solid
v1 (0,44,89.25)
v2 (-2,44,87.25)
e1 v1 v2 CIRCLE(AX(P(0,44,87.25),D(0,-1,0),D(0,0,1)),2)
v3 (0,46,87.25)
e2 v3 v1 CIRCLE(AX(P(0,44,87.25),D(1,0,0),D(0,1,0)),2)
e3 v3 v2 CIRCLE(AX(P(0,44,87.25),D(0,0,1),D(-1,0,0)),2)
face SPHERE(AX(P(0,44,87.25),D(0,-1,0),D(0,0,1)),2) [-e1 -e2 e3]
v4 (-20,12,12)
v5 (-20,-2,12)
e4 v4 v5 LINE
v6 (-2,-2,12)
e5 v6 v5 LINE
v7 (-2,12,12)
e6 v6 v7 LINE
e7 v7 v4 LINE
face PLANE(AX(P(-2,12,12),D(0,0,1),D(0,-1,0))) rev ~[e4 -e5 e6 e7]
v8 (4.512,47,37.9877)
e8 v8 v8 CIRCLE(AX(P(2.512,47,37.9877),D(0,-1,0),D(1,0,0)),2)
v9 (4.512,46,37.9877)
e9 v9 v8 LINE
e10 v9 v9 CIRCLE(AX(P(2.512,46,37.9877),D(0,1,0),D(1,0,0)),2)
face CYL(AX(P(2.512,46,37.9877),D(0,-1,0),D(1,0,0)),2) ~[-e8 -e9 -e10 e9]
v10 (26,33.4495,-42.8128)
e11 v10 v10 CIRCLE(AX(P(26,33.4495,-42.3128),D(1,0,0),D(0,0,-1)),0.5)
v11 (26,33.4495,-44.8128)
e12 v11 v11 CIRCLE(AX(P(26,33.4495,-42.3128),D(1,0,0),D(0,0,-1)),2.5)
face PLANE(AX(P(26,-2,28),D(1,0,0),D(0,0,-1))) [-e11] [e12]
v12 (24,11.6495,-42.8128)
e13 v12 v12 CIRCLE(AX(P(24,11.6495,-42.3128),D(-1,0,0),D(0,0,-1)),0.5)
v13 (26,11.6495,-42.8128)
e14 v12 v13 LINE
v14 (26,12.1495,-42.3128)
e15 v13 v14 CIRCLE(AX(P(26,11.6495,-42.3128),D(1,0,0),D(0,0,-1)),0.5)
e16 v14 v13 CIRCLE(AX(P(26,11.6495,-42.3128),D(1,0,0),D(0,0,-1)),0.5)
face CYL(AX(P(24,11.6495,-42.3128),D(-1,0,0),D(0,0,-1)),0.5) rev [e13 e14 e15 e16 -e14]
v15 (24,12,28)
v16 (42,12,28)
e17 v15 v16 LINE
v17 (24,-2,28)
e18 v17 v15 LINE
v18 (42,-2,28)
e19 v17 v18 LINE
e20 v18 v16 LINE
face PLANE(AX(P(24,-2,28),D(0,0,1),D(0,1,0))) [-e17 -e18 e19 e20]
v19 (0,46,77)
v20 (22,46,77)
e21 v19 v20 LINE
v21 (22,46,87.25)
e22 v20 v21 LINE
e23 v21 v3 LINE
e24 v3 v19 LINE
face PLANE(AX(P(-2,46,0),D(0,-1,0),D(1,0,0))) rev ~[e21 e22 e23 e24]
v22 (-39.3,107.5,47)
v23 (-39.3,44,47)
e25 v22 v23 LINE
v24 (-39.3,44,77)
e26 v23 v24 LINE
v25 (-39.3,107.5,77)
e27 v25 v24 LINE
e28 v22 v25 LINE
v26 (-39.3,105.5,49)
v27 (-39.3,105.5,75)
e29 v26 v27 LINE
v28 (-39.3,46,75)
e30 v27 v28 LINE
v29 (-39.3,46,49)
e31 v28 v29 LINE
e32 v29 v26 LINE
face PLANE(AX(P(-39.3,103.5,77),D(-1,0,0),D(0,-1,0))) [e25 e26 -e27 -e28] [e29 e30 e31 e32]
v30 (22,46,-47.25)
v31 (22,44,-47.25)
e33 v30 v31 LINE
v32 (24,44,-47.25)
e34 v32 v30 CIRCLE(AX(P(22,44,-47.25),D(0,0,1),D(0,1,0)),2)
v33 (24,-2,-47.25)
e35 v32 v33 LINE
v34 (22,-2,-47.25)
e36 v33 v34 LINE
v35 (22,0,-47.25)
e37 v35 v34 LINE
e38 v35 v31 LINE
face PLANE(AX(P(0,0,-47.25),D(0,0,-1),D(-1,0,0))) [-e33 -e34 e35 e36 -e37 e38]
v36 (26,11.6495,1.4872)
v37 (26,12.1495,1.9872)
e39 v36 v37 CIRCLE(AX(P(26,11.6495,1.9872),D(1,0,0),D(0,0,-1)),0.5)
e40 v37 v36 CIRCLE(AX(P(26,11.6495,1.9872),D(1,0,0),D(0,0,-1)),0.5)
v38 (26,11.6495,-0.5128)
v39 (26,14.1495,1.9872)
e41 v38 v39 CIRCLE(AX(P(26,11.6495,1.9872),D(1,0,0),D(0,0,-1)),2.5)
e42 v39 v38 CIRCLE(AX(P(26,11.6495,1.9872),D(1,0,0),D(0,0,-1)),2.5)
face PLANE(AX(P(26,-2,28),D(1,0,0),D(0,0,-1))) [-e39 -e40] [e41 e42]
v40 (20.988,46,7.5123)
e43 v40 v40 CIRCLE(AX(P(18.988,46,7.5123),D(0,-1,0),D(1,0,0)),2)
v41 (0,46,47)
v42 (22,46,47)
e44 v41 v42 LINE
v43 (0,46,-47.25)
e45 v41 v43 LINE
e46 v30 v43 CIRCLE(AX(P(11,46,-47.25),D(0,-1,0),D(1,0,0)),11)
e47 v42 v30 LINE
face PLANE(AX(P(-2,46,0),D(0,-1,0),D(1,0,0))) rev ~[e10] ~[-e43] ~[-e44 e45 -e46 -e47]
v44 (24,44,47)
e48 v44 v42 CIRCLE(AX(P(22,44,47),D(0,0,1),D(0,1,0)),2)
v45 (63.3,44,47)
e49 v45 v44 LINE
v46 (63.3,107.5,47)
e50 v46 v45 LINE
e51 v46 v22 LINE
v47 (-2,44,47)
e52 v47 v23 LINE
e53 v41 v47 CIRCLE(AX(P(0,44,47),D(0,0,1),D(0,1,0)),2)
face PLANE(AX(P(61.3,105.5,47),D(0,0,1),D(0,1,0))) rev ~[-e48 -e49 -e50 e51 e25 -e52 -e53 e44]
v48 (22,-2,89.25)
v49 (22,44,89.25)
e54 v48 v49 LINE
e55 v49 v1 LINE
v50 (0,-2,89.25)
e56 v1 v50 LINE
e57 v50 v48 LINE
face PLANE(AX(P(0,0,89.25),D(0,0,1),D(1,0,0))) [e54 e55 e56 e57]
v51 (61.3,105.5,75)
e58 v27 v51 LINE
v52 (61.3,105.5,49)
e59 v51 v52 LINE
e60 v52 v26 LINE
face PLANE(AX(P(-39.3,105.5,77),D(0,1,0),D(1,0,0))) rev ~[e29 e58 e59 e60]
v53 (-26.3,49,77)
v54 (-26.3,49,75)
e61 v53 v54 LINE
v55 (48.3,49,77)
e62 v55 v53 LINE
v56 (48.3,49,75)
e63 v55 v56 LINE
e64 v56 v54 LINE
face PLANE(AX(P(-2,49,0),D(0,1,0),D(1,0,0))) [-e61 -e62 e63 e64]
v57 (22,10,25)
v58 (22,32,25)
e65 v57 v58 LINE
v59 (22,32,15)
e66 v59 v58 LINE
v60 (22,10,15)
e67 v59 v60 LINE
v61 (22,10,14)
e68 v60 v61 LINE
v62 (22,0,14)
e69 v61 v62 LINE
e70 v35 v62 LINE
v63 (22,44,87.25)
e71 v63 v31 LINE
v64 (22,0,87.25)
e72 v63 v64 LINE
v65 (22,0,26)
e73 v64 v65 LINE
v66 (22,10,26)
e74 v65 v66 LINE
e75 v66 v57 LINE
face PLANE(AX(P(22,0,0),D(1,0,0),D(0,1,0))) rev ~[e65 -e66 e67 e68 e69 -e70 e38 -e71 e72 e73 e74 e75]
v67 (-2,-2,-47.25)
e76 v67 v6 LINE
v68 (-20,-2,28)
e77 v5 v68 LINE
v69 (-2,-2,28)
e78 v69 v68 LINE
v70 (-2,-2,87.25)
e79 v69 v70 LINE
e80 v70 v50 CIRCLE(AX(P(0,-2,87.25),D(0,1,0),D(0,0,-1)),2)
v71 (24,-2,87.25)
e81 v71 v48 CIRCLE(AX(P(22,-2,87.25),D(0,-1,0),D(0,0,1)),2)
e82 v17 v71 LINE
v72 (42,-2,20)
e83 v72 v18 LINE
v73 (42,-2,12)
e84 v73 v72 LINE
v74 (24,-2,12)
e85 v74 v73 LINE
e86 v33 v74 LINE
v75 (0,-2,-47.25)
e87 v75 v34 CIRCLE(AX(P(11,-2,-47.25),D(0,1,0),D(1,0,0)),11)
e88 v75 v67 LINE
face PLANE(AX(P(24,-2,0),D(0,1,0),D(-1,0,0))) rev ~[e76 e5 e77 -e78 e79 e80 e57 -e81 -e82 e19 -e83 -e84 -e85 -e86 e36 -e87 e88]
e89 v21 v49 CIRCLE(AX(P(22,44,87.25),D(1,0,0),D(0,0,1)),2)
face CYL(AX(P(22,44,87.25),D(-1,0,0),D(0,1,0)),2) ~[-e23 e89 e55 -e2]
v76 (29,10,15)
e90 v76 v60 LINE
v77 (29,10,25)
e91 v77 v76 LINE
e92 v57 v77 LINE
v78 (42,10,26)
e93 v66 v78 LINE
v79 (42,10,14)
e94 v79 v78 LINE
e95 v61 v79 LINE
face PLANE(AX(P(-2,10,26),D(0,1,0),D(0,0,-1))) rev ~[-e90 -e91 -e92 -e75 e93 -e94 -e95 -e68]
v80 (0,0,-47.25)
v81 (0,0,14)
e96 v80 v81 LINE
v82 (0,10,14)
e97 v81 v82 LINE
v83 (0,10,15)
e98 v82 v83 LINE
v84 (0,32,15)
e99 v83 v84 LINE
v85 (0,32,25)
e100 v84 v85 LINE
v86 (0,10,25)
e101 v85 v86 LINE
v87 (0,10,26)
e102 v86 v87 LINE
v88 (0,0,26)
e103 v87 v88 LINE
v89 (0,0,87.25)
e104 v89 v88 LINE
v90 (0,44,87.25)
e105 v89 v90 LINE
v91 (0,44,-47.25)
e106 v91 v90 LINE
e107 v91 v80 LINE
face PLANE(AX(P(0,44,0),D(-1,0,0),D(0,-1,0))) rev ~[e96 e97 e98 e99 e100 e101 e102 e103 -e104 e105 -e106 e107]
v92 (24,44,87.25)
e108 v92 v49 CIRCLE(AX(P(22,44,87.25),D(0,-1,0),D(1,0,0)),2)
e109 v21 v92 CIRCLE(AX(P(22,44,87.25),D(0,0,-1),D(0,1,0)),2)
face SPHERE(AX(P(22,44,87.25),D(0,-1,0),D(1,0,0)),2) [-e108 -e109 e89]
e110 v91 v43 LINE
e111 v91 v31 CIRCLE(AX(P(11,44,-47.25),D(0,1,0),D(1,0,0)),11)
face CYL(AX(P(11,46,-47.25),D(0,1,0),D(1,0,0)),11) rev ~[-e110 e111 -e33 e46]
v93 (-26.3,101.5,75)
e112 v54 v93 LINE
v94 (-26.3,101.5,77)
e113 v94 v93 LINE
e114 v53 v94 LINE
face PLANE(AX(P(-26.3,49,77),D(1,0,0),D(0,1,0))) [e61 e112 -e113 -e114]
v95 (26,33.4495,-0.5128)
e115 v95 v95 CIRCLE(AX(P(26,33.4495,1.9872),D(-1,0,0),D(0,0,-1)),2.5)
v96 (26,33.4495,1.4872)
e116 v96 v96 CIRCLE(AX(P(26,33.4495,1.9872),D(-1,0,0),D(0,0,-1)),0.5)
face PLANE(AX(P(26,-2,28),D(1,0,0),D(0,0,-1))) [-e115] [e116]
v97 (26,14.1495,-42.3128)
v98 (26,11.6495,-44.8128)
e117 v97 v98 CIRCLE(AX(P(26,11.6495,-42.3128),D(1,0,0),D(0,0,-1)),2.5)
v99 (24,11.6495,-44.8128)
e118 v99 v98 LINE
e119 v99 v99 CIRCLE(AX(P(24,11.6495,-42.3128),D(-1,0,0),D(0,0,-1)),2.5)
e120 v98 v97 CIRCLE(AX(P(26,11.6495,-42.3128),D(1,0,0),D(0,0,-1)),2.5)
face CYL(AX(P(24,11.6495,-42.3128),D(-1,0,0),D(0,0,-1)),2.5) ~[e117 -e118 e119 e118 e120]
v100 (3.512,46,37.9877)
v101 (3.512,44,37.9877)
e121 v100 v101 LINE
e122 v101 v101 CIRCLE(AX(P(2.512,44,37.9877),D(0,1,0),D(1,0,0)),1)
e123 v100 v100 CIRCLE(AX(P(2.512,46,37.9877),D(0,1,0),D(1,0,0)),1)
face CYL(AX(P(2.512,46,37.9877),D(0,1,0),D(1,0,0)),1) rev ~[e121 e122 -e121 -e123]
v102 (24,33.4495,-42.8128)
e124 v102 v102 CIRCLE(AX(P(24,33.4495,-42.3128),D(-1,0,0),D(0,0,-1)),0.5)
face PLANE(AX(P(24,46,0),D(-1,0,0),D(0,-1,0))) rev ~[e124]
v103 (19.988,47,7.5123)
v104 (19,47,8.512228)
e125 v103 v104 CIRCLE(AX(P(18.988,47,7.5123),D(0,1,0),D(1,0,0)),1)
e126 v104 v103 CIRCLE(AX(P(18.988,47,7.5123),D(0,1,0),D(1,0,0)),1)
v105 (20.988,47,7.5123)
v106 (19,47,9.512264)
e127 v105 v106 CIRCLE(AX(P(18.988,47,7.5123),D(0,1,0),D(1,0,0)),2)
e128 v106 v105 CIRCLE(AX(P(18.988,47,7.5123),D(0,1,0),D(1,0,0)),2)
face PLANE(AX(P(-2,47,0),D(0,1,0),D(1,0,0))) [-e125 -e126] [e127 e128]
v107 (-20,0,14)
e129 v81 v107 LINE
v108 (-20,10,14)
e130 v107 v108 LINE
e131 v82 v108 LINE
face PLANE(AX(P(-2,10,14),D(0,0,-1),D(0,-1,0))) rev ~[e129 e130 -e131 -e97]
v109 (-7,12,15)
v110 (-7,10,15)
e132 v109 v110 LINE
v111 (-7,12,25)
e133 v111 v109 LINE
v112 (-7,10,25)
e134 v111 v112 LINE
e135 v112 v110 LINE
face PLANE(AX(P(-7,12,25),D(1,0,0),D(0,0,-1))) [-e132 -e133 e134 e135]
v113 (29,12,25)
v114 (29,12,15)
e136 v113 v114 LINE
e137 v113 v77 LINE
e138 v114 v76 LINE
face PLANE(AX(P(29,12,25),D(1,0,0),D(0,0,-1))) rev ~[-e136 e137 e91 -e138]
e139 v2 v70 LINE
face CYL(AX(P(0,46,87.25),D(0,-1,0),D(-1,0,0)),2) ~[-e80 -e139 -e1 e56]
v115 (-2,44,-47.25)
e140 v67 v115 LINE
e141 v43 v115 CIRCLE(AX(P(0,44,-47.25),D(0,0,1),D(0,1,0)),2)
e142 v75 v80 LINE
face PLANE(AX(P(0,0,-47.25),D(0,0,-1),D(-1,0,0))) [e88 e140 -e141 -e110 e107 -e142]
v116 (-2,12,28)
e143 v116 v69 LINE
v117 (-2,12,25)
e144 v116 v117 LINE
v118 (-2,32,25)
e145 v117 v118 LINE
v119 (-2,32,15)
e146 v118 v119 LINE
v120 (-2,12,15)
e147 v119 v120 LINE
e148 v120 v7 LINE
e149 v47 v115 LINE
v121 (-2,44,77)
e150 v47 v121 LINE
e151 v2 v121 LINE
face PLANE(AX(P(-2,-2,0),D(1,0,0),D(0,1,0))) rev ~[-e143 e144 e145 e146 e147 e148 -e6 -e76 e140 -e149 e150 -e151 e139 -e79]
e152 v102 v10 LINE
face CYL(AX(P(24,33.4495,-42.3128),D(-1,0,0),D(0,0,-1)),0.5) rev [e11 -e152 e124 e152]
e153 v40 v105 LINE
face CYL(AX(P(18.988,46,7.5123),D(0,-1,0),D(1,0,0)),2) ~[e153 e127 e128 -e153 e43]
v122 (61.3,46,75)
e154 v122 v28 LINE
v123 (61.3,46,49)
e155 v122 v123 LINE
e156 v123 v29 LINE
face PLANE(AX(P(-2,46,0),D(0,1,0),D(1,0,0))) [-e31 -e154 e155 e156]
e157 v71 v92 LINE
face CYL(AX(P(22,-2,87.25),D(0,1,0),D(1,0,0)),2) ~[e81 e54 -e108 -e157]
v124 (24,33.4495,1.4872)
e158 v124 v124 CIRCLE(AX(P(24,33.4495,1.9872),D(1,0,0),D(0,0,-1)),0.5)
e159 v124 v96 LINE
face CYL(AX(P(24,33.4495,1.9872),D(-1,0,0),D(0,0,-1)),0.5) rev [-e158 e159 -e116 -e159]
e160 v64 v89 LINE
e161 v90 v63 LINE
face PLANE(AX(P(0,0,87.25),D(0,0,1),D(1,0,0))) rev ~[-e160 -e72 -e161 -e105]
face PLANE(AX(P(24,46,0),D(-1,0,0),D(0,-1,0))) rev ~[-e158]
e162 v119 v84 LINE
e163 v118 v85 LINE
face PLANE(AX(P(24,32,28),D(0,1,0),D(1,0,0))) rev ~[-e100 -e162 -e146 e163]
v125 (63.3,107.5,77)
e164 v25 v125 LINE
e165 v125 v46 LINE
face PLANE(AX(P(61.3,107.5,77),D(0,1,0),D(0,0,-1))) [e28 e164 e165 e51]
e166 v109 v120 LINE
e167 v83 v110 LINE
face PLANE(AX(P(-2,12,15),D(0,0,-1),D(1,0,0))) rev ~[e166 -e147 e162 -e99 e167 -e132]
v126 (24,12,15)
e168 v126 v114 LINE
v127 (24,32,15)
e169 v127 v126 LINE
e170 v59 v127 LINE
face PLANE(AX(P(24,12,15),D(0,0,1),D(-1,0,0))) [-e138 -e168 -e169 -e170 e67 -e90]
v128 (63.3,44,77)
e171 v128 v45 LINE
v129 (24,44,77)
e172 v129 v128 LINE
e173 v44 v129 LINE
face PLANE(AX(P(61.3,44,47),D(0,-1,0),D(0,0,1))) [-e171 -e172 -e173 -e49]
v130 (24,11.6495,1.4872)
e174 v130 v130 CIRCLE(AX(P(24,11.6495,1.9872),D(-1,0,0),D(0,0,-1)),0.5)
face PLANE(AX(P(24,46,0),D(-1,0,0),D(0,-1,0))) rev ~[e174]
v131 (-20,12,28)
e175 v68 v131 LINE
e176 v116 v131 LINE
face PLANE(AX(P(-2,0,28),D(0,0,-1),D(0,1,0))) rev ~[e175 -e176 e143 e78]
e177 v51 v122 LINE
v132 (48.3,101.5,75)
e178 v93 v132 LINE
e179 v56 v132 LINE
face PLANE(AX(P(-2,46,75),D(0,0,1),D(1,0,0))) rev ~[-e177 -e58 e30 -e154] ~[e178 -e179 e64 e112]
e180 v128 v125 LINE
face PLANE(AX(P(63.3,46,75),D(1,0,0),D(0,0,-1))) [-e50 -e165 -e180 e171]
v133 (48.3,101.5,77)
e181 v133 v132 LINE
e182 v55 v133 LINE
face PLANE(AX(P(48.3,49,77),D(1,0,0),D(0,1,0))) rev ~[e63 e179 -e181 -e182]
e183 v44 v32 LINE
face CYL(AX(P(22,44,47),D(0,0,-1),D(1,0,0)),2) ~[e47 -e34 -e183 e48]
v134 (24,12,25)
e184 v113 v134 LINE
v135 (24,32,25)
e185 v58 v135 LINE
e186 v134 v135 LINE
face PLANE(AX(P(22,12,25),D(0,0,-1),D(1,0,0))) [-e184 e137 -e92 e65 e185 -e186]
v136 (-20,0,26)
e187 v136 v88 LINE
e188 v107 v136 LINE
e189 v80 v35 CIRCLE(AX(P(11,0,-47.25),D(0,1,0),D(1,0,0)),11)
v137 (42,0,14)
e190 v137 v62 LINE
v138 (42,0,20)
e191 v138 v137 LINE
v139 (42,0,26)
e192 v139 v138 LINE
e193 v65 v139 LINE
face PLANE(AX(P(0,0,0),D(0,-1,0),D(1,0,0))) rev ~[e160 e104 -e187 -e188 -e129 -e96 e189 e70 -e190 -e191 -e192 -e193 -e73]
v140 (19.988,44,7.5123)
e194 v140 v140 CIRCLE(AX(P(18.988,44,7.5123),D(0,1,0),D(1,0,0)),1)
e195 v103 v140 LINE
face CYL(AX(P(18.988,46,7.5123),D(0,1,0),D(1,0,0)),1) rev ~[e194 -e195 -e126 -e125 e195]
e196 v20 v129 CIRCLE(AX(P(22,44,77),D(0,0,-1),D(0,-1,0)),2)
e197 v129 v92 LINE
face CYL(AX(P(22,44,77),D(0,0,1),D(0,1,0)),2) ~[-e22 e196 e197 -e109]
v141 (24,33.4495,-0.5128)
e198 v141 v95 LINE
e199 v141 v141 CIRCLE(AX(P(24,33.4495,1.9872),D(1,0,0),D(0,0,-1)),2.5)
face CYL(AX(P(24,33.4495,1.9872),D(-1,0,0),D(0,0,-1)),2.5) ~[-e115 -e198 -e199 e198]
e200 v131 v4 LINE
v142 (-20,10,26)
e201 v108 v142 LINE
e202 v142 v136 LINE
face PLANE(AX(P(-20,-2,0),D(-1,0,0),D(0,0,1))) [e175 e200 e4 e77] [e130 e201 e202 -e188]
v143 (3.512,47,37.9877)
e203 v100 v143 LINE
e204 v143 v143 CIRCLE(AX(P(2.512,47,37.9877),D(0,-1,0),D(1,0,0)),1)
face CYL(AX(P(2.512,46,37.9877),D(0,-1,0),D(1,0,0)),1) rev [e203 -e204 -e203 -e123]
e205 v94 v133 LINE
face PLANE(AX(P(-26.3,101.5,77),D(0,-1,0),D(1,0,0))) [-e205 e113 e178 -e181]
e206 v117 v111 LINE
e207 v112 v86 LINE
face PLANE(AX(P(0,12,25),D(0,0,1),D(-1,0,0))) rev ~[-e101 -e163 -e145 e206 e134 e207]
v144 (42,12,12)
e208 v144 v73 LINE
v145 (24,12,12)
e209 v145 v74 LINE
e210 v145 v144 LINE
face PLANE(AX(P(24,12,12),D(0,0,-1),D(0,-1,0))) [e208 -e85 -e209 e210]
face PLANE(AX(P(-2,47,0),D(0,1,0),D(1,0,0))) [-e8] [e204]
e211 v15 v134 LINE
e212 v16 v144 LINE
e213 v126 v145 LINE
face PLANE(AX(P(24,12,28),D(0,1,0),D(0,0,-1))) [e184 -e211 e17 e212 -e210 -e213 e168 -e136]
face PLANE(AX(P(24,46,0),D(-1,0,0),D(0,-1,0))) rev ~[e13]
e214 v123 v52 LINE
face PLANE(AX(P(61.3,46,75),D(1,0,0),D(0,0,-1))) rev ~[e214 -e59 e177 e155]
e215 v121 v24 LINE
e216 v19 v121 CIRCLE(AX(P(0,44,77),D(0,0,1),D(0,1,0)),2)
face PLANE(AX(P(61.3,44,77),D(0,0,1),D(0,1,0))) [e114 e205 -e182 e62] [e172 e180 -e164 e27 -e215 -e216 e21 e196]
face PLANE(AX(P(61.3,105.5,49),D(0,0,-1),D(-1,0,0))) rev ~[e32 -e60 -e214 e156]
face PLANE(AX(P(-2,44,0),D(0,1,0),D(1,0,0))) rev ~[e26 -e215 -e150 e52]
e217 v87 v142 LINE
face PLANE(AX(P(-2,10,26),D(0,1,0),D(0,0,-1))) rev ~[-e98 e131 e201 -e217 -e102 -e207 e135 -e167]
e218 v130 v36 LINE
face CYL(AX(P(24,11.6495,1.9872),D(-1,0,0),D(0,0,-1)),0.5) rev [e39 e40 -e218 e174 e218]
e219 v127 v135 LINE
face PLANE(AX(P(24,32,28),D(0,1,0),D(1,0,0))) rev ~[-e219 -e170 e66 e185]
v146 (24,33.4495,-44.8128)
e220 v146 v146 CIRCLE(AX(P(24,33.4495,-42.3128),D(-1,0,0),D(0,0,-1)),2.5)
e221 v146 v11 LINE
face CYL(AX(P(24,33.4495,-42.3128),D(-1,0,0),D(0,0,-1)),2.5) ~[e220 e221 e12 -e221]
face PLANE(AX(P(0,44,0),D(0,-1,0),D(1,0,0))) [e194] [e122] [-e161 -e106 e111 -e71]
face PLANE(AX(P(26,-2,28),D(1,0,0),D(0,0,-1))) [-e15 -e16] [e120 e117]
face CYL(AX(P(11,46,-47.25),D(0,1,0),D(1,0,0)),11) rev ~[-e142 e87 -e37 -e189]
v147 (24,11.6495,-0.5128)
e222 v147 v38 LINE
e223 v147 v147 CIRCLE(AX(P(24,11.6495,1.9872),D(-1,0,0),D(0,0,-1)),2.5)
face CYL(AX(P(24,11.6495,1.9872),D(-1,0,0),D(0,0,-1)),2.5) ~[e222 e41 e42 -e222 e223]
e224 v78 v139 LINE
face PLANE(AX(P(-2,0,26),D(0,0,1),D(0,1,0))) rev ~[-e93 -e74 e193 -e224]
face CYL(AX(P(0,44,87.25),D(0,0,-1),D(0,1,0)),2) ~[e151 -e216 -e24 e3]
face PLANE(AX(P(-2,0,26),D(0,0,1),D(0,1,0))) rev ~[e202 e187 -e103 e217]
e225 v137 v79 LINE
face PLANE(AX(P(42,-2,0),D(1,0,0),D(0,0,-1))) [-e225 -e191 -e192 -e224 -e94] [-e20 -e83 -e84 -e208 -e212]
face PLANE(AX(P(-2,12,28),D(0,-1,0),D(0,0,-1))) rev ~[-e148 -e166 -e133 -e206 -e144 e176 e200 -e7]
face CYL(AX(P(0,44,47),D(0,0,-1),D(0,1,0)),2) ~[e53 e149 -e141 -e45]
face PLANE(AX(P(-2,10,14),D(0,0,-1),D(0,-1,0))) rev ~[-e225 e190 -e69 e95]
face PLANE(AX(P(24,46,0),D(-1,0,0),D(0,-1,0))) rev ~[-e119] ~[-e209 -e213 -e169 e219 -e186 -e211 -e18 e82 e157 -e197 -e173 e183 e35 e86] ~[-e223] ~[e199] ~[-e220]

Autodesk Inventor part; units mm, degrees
ref_plane "YZ Plane" through (0, 0, 0) normal (1, 0, 0) x (0, 1, 0)
ref_plane "XZ Plane" through (0, 0, 0) normal (0, 1, 0) x (-1, 0, 0)
ref_plane "XY Plane" through (0, 0, 0) normal (0, 0, 1) x (1, 0, 0)
sketch "Sketch1" plane through (0, 0, 0) normal (0, 0, 1) x (1, 0, 0)
  line L0 (0, 0) -> (22, 0)
  line L1 (22, 0) -> (22, 45)
  line L2 (22, 45) -> (0, 45)
  line L3 (0, 45) -> (0, 0)
  line L4 (-2, 47) -> (24, 47)
  line L5 (24, 47) -> (24, -2)
  line L6 (24, -2) -> (-2, -2)
  line L7 (-2, -2) -> (-2, 47)
  dimension "d0" = 22
  dimension "d1" = 45
  dimension "d2" = 2
extrude "Extrusion1" add sketch "Sketch1" along normal blind 40
sketch "Sketch2" plane through (24, -2, 0) normal (1, 0, 0) x (0, 0, -1)
  line L0 (0, 0) -> (-40, 0) projected
  line L1 (-20, 0) -> (-20, 2)
  line L2 (-20, 2) -> (-14, 2)
  line L3 (-14, 2) -> (-14, 12)
  line L4 (-14, 12) -> (-26, 12)
  line L5 (-26, 12) -> (-26, 2)
  line L6 (-26, 2) -> (-14, 2)
  line L7 (-28, 14) -> (-12, 14)
  line L8 (-12, 14) -> (-12, 0)
  line L9 (-12, 0) -> (-28, 0)
  line L10 (-28, 0) -> (-28, 14)
  point P0 (0, 2)
  dimension "d5" = 2
  dimension "d6" = 6
  dimension "d7" = 10
  dimension "d8" = 12
  dimension "d9" = 2
extrude "Extrusion2" add sketch "Sketch2" along normal blind 18
sketch "Sketch3" plane through (-2, -2, 0) normal (-1, 0, 0) x (0, 0, 1)
  line L0 (26, 12) -> (26, 2) projected
  line L1 (14, 12) -> (26, 12) projected
  line L2 (14, 2) -> (14, 12) projected
  line L3 (0, 2) -> (40, 2) projected
  line L4 (28, 0) -> (28, 14) projected
  line L5 (28, 14) -> (12, 14) projected
  line L6 (12, 14) -> (12, 0) projected
  line L7 (0, 0) -> (40, 0) projected
extrude "Extrusion3" add sketch "Sketch3" along normal blind 18 contours L1 L2 L3 L6 L5 L4 L0 | L3 L4 L7 L6
sketch "Sketch4" plane through (-2, 0, 26) normal (-1, 0, 0) x (0, 0, 1)
  line L0 (-12, 0) -> (0, 0) projected
  line L1 (0, 0) -> (0, 10) projected
  line L2 (0, 10) -> (-12, 10) projected
  line L3 (-12, 10) -> (-12, 0) projected
  point P0 (-26, 0)
extrude "Extrusion4" cut sketch "Sketch4" against normal blind 40
sketch "Sketch5" plane through (24, 12, 28) normal (0, 1, 0) x (1, 0, 0)
  line L0 (-26, 28) -> (-26, -12) projected
  line L1 (0, 28) -> (0, -12) projected
  line L2 (0, 8) -> (0, 13)
  line L3 (0, 13) -> (0, 3)
  line L4 (0, 13) -> (-2, 13)
  line L5 (-2, 13) -> (-2, 3)
  line L6 (-2, 28) -> (-2, -12) projected
  line L7 (-2, 3) -> (0, 3)
  line L8 (0, 3) -> (5, 3)
  line L9 (5, 3) -> (5, 13)
  line L10 (5, 13) -> (0, 13)
  line L11 (-26, 28) -> (0, 28) projected
  line L12 (-13, 28) -> (-13, 3)
  line L13 (-26, 28) -> (-26, -12)
  line L14 (-26, 8) -> (-26, 13)
  line L15 (-26, 13) -> (-26, 3)
  line L16 (-26, 13) -> (-24, 13)
  line L17 (-24, 13) -> (-24, 3)
  line L18 (-24, 28) -> (-24, -12)
  line L19 (-24, 3) -> (-26, 3)
  line L20 (-26, 3) -> (-31, 3)
  line L21 (-31, 3) -> (-31, 13)
  line L22 (-31, 13) -> (-26, 13)
  dimension "d16" = 5
  dimension "d17" = 10
  dimension "d18" = 2
  dimension "d19" = 5
extrude "Extrusion5" cut sketch "Sketch5" along normal blind 20 contours L16 L17 L19 L0 | L0 L20 L21 L22 | L4 L1 L7 L5 | L10 L9 L8 L1
sketch "Sketch6" plane through (-20, 12, 12) normal (0, 1, 0) x (1, 0, 0)
  line L0 (20, -3) -> (18, -3) projected
  line L1 (18, -13) -> (20, -13) projected
  line L2 (20, -3) -> (20, -13) projected
  line L3 (42, -13) -> (42, -3) projected
  line L4 (44, -3) -> (42, -3) projected
  line L5 (42, -13) -> (44, -13) projected
  line L6 (44, -3) -> (44, 0) projected
  line L7 (44, -3) -> (44, -13)
  line L8 (18, -3) -> (18, -13)
  line L9 (18, -13) -> (13, -13)
  line L10 (13, -13) -> (13, -3)
  line L11 (13, -3) -> (18, -3)
  line L12 (44, -16) -> (44, -13) projected
  line L13 (44, -13) -> (49, -13)
  line L14 (49, -13) -> (49, -3)
  line L15 (49, -3) -> (44, -3)
  line L16 (44, -13) -> (44, -3)
  point P0 (20, 12)
  dimension "d22" = 5
  dimension "d23" = 5
extrude "Extrusion6" cut sketch "Sketch6" against normal blind 5
sketch "Sketch7" plane through (0, 0, 40) normal (0, 0, 1) x (1, 0, 0)
  line L0 (0, 0) -> (0, 45) projected
  line L1 (0, 45) -> (22, 45) projected
  line L2 (22, 45) -> (22, 0) projected
  line L3 (22, 0) -> (0, 0) projected
  line L4 (24, 47) -> (-2, 47) projected
  line L5 (-2, 47) -> (-2, -2) projected
  line L6 (-2, -2) -> (24, -2) projected
  line L7 (24, -2) -> (24, 47) projected
extrude "Extrusion7" add sketch "Sketch7" along normal blind 30
sketch "Sketch8" plane through (0, 0, 0) normal (0, 0, -1) x (-1, 0, 0)
  line L0 (-22, 45) -> (0, 45) projected
  line L1 (-22, 44) -> (0, 44)
  line L2 (-22, 44) -> (-22, 45)
  line L3 (2, 47) -> (-24, 47) projected
  line L4 (0, 0) -> (0, 45) projected
  line L5 (0, 44) -> (0, 45)
  line L6 (0, 45) -> (-22, 45) projected
  line L7 (0, 45) -> (-22, 45)
  dimension "d28" = 1
extrude "Extrusion8" add sketch "Sketch8" against normal blind 70
sketch "Sketch9" plane through (-2, 47, 0) normal (0, 1, 0) x (1, 0, 0)
  line L0 (0, 0) -> (26, 0) projected
  line L1 (0, 0) -> (0, -70) projected
  line L2 (26, -70) -> (0, -70) projected
  line L3 (26, 0) -> (26, -70) projected
  point P0 (2, 0)
extrude "Extrusion9" cut sketch "Sketch9" against normal blind 1
sketch "Sketch10" plane through (0, 0, 70) normal (0, 0, 1) x (1, 0, 0)
  line L0 (24, 46) -> (-2, 46) projected
  line L1 (-2, 46) -> (-2, -2) projected
  line L2 (-2, -2) -> (24, -2) projected
  line L3 (24, -2) -> (24, 46) projected
  line L4 (22, 44) -> (22, 0) projected
  line L5 (22, 0) -> (0, 0) projected
  line L6 (0, 0) -> (0, 44) projected
  line L7 (0, 44) -> (22, 44) projected
extrude "Extrusion10" add sketch "Sketch10" along normal blind 17.25
sketch "Sketch11" plane through (0, 0, 0) normal (0, 0, -1) x (-1, 0, 0)
  line L0 (2, 46) -> (-24, 46) projected
  line L1 (-24, 46) -> (-24, -2) projected
  line L2 (-24, -2) -> (2, -2) projected
  line L3 (2, -2) -> (2, 46) projected
  line L4 (0, 44) -> (0, 0) projected
  line L5 (0, 0) -> (-22, 0) projected
  line L6 (-22, 0) -> (-22, 44) projected
  line L7 (0, 44) -> (-22, 44) projected
extrude "Extrusion11" add sketch "Sketch11" along normal blind 47.25
sketch "Sketch12" plane through (24, -2, 28) normal (1, 0, 0) x (0, 0, -1)
  circle A0 centre (70.3128, 35.4495) radius 0.5
  line L0 (70.3128, 35.4495) -> (70.3128, 13.6495)
  circle A1 centre (70.3128, 13.6495) radius 0.5
  line L1 (70.3128, 35.4495) -> (26.0128, 35.4495)
  line L2 (26.0128, 35.4495) -> (26.0128, 13.6495)
  circle A2 centre (26.0128, 35.4495) radius 0.5
  circle A3 centre (26.0128, 13.6495) radius 0.5
  circle A4 centre (26.0128, 35.4495) radius 2.5
  circle A5 centre (26.0128, 13.6495) radius 2.5
  circle A6 centre (70.3128, 35.4495) radius 2.5
  circle A7 centre (70.3128, 13.6495) radius 2.5
  point P0 (28, 2)
  dimension "d37" = 1
  dimension "d38" = 21.8
  dimension "d39" = 1
  dimension "d40" = 44.3
  dimension "d41" = 1
  dimension "d42" = 1
  dimension "d43" = 2
  dimension "d44" = 2
  dimension "d45" = 2
  dimension "d46" = 2
extrude "Extrusion12" add sketch "Sketch12" along normal blind 2 contours A0 L1 A6 L0 | A0 L0 A6 L1 | A5 | A4 L2 A2 L1 | L1 A2 L2 A4 | A7
sketch "Sketch13" plane through (-2, 46, 0) normal (0, 1, 0) x (1, 0, 0)
  line L0 (0, -87.25) -> (0, 47.25) projected
  line L1 (0, -20) -> (0, 2)
  line L2 (0, 2) -> (0, -42)
  line L3 (0, 2) -> (26, 2)
  line L4 (26, 47.25) -> (26, -87.25) projected
  line L5 (13, 2) -> (-9, 2)
  line L6 (-9, 2) -> (-9, -42)
  line L7 (-9, -42) -> (35, -42)
  line L8 (35, -42) -> (35, 2)
  line L9 (35, 2) -> (-9, 2)
  point P0 (2, 0)
  dimension "d49" = 22
  dimension "d50" = 44
  dimension "d51" = 22
  dimension "d52" = 44
  dimension "d53" = 44
extrude "Extrusion13" add sketch "Sketch13" against normal blind 2
sketch "Sketch14" plane through (-2, 46, 0) normal (0, 1, 0) x (1, 0, 0)
  line L0 (35, 2) -> (35, -42) projected
  line L1 (35, 2) -> (35, -1.5)
  line L2 (35, -1.5) -> (31.5, -1.5)
  circle A0 centre (31.5, -1.5) radius 1
  line L3 (35, -20) -> (25.0938, -20)
  circle A1 centre (31.5, -38.5) radius 1
  line L4 (2, 47.25) -> (24, 47.25) projected
  line L5 (13, 47.25) -> (13, 21.5111)
  circle A2 centre (-5.5, -1.5) radius 1
  circle A3 centre (-5.5, -38.5) radius 1
  circle A4 centre (-5.5, -38.5) radius 2
  circle A5 centre (-5.5, -1.5) radius 2
  circle A6 centre (31.5, -38.5) radius 2
  circle A7 centre (31.5, -1.5) radius 2
  point P0 (2, 0)
  dimension "d56" = 3.5
  dimension "d57" = 3.5
  dimension "d58" = 2
  dimension "d59" = 1
  dimension "d60" = 1
  dimension "d61" = 1
  dimension "d62" = 1
extrude "Extrusion14" add sketch "Sketch14" along normal blind 1
sketch "Sketch15" plane through (-2, 46, 0) normal (0, 1, 0) x (1, 0, 0)
  circle A0 centre (-5.5, -38.5) radius 1 projected
  circle A1 centre (-5.5, -1.5) radius 1 projected
  circle A2 centre (31.5, -1.5) radius 1 projected
  circle A3 centre (31.5, -38.5) radius 1 projected
  point P0 (2, 0)
extrude "Extrusion15" cut sketch "Sketch15" against normal blind 3
sketch "Sketch16" plane through (-2, 46, 0) normal (0, 1, 0) x (1, 0, 0)
  line L0 (24, -87.25) -> (24, 47.25) projected
  line L1 (2, 47.25) -> (2, -87.25) projected
  line L2 (2, -14) -> (2, 47.25) projected
  line L3 (2, 47.25) -> (2, -2.75)
  line L4 (2.012, -37.9877) -> (4.512, -37.9877)
  circle A0 centre (4.512, -37.9877) radius 1
  line L5 (4.512, -37.9877) -> (4.512, -67.9877)
  line L6 (4.5, -37.75) -> (21, -37.75)
  circle A1 centre (20.988, -7.5123) radius 1
  circle A2 centre (4.512, -37.9877) radius 2
  circle A3 centre (20.988, -7.5123) radius 2
  line L7 (21, -7.75) -> (21, -37.75)
  point P0 (2, 0)
  dimension "d67" = 50
  dimension "d68" = 2.5
  dimension "d69" = 2
  dimension "d70" = 30
  dimension "d71" = 16.5
  dimension "d72" = 2
  dimension "d73" = 1
  dimension "d74" = 1
  dimension "d91" = 30
extrude "Extrusion16" add sketch "Sketch16" along normal blind 1 contours A2 L6 A0 L4 | A3 | L4 A0 L5 A2 | A2 L5 A0 L6
sketch "Sketch17" plane through (-2, 46, 0) normal (0, 1, 0) x (1, 0, 0)
  circle A0 centre (4.512, -37.9877) radius 1 projected
  circle A1 centre (20.988, -7.5123) radius 1 projected
  point P0 (2, 0)
extrude "Extrusion17" cut sketch "Sketch17" against normal blind 3
sketch "Sketch18" plane through (-2, 46, 0) normal (0, 1, 0) x (1, 0, 0)
  line L0 (-9, -42) -> (0, -42) projected
  line L1 (0, -87.25) -> (0, -42) projected
  line L2 (0, -47) -> (26, -47)
  line L3 (26, -42) -> (26, -87.25) projected
  line L4 (0, -49) -> (26, -49)
  line L5 (0, -75) -> (26, -75)
  line L6 (0, -77) -> (26, -77)
  line L7 (0, -47) -> (0, -49)
  line L8 (26, -47) -> (26, -49)
  line L9 (26, -75) -> (26, -77)
  line L10 (0, -75) -> (0, -77)
  point P0 (2, 0)
  dimension "d79" = 5
  dimension "d80" = 2
  dimension "d81" = 26
  dimension "d82" = 2
extrude "Extrusion18" add sketch "Sketch18" along normal blind 30 contours L1 L2 L3 L4
sketch "Sketch19" plane through (-2, 46, 0) normal (0, 1, 0) x (1, 0, 0)
  line L0 (0, -49) -> (26, -49) projected
  line L1 (0, -75) -> (26, -75)
  line L2 (0, -77) -> (26, -77)
  line L3 (0, -75) -> (0, -77)
  line L4 (0, -28) -> (0, -87.25) projected
  line L5 (26, -75) -> (26, -77)
  line L6 (26, -49) -> (26, -87.25) projected
  point P0 (2, 0)
  dimension "d85" = 26
  dimension "d86" = 2
extrude "Extrusion19" add sketch "Sketch19" along normal blind 3 contours L1 L5 L2 L3
sketch "Sketch20" plane through (-2, 46, 0) normal (0, 1, 0) x (1, 0, 0)
  line L0 (26, -42) -> (26, -47) projected
  line L1 (26, 47.25) -> (26, 2) projected
  line L2 (0, 2) -> (0, 47.25) projected
  line L3 (0, -47) -> (0, -42) projected
  line L4 (26, -42) -> (26, 2)
  line L5 (35, -42) -> (35, 2) projected
  line L6 (35, 2) -> (26, 2) projected
  line L7 (26, -42) -> (35, -42) projected
  line L8 (-9, 2) -> (-9, -42) projected
  line L9 (-9, -42) -> (0, -42) projected
  line L10 (0, 2) -> (-9, 2) projected
  line L11 (0, -42) -> (0, 2) projected
  point P0 (2, 0)
extrude "Extrusion20" cut sketch "Sketch20" along normal mid plane 10
sketch "Sketch21" plane through (-2, 46, 0) normal (0, 1, 0) x (1, 0, 0)
  line L0 (0, 47.25) -> (26, 47.25) projected
  line L1 (24, -87.25) -> (24, 47.25) projected
  line L2 (2, 47.25) -> (2, -87.25) projected
  line L3 (26, 47.25) -> (0, 47.25) projected
  circle A0 centre (13, 47.25) radius 11
  point P0 (2, 0)
extrude "Extrusion21" cut sketch "Sketch21" against normal blind 100
sketch "Sketch22" plane through (0, 0, 87.25) normal (0, 0, 1) x (1, 0, 0)
  line L0 (22, 0) -> (0, 0) projected
  line L1 (0, 0) -> (0, 44) projected
  line L2 (0, 44) -> (22, 44) projected
  line L3 (22, 44) -> (22, 0) projected
  line L4 (24, 46) -> (-2, 46) projected
  line L5 (-2, 46) -> (-2, -2) projected
  line L6 (-2, -2) -> (24, -2) projected
  line L7 (24, -2) -> (24, 46) projected
extrude "Extrusion22" add sketch "Sketch22" along normal blind 2 contours L0 L1 L2 L3 | L7 L6 L5 L4
sketch "Sketch24" plane through (-2, 46, 77) normal (0, 0, 1) x (1, 0, 0)
  line L0 (0, 3) -> (26, 3) projected
  line L1 (26, 3) -> (0, 3) projected
  line L2 (13, 3) -> (50.3, 3)
  line L3 (50.3, 3) -> (-24.3, 3)
  line L4 (-24.3, 3) -> (-24.3, 0)
  line L5 (-24.3, 0) -> (50.3, 0)
  line L6 (50.3, 0) -> (50.3, 3)
  point P0 (2, -46)
  dimension "d98" = 37.3
  dimension "d99" = 74.6
  dimension "d100" = 3
extrude "Extrusion24" add sketch "Sketch24" against normal blind 2
sketch "Sketch25" plane through (24, 46, 77) normal (0, 0, 1) x (1, 0, 0)
  line L0 (-50.3, 0) -> (-50.3, 3) projected
  line L1 (-50.3, 0) -> (-63.3, 0)
  line L2 (24.3, 0) -> (0, 0) projected
  line L3 (24.3, 0) -> (37.3, 0)
  line L4 (24.3, 57.5) -> (-50.3, 57.5)
  line L5 (-63.3, 57.5) -> (-63.3, 0)
  line L6 (-50.3, 3) -> (24.3, 3) projected
  line L7 (-50.3, 3) -> (-50.3, 57.5)
  line L8 (24.3, 3) -> (24.3, 57.5)
  line L9 (-63.3, 57.5) -> (-63.3, 59.5)
  line L10 (-63.3, 59.5) -> (37.3, 59.5)
  line L11 (37.3, 0) -> (37.3, 57.5)
  line L12 (37.3, 57.5) -> (37.3, 59.5)
  line L13 (37.3, 59.5) -> (-63.3, 59.5)
  line L14 (-63.3, 0) -> (-50.3, 0)
  line L15 (-26, 0) -> (-50.3, 0) projected
  line L16 (-50.3, 3) -> (-50.3, 0)
  line L17 (24.3, 3) -> (24.3, 0)
  line L18 (37.3, 0) -> (24.3, 0)
  line L19 (24.3, 57.5) -> (24.3, 0)
  point P0 (-24, -46)
  dimension "d103" = 13
  dimension "d104" = 13
  dimension "d105" = 57.5
  dimension "d106" = 2
  dimension "d107" = 57.5
  dimension "d108" = 2
extrude "Extrusion25" add sketch "Sketch25" against normal blind 2 contours L1 L5 L9 L10 L12 L11 L3 L17 L8 L4 L7 L0
sketch "Sketch26" plane through (24, 46, 75) normal (0, -1, 0) x (1, 0, 0)
  line L0 (0, 0) -> (0, 2) projected
  line L1 (37.3, 0) -> (0, 0) projected
  line L2 (37.3, 2) -> (37.3, 0) projected
  line L3 (0, 2) -> (37.3, 2) projected
  line L4 (0, 0) -> (0, 2) projected
  line L5 (0, 2) -> (0, -28)
  line L6 (0, -28) -> (37.3, -28)
  line L7 (37.3, -28) -> (37.3, 2)
  point P0 (-24, -75)
extrude "Extrusion26" add sketch "Sketch26" along normal blind 2
sketch "Sketch27" plane through (-2, 46, 0) normal (0, 1, 0) x (1, 0, 0)
  line L0 (0, -75) -> (0, -49) projected
  line L1 (-37.3, -75) -> (63.3, -75) projected
  line L2 (0, -77) -> (0, -75) projected
  line L3 (0, -77) -> (-37.3, -77) projected
  line L4 (-37.3, -77) -> (-37.3, -75) projected
  line L5 (0, -75) -> (-37.3, -75) projected
  line L6 (-37.3, -77) -> (-37.3, -49)
  line L7 (26, -49) -> (0, -49) projected
  line L8 (-37.3, -49) -> (0, -49)
  line L9 (0, -49) -> (0, -75)
  line L10 (63.3, -77) -> (-37.3, -77) projected
  line L11 (26, -77) -> (0, -77) projected
  line L12 (-37.3, -77) -> (0, -77)
  line L13 (0, -77) -> (0, -49)
  line L14 (0, -49) -> (0, -47)
  line L15 (0, -28) -> (0, -89.25) projected
  line L16 (0, -47) -> (-37.3, -47)
  line L17 (-37.3, -47) -> (-37.3, -49)
  point P0 (2, 0)
  dimension "d113" = 2
extrude "Extrusion27" add sketch "Sketch27" against normal blind 2
sketch "Sketch28" plane through (-2, 46, 77) normal (0, 0, 1) x (1, 0, 0)
  line L0 (-24.3, 57.5) -> (50.3, 57.5) projected
  line L1 (-24.3, 55.5) -> (50.3, 55.5)
  line L2 (-24.3, 57.5) -> (-24.3, 3) projected
  line L3 (-24.3, 55.5) -> (-24.3, 57.5)
  line L4 (-24.3, 57.5) -> (50.3, 57.5)
  line L5 (50.3, 3) -> (50.3, 57.5) projected
  line L6 (50.3, 55.5) -> (50.3, 57.5)
  point P0 (2, -46)
  dimension "d116" = 2
extrude "Extrusion28" add sketch "Sketch28" against normal blind 2
sketch "Sketch29" plane through (-39.3, 105.5, 77) normal (0, 1, 0) x (1, 0, 0)
  line L0 (100.6, 0) -> (0, 0) projected
  line L1 (100.6, 0) -> (100.6, 2) projected
  line L2 (0, 2) -> (100.6, 2) projected
  line L3 (0, 0) -> (0, 2) projected
  line L4 (63.3, 30) -> (37.3, 30) projected
  line L5 (37.3, 30) -> (37.3, 28) projected
  line L6 (37.3, 28) -> (63.3, 28) projected
  line L7 (63.3, 28) -> (63.3, 30) projected
  line L8 (63.3, 30) -> (100.6, 30) projected
  line L9 (100.6, 0) -> (100.6, 30)
  line L10 (100.6, 30) -> (0, 30)
  line L11 (0, 30) -> (0, 0)
  point P0 (39.3, 77)
extrude "Extrusion29" add sketch "Sketch29" along normal blind 2
sketch "Sketch30" plane through (61.3, 46, 75) normal (1, 0, 0) x (0, 0, -1)
  line L0 (-2, 61.5) -> (28, 61.5) projected
  line L1 (-2, -2) -> (-2, 61.5) projected
  line L2 (28, -2) -> (-2, -2) projected
  line L3 (28, 0) -> (28, 30) projected
  line L4 (28, 0) -> (28, -2) projected
  line L5 (28, 59.5) -> (28, 61.5) projected
  line L6 (28, 61.5) -> (28, 30)
  point P0 (75, -46)
extrude "Extrusion30" add sketch "Sketch30" along normal blind 2
sketch "Sketch31" plane through (61.3, 105.5, 47) normal (0, 0, -1) x (-1, 0, 0)
  line L0 (100.6, 2) -> (-2, 2) projected
  line L1 (-2, -61.5) -> (-2, 2) projected
  line L2 (37.3, -61.5) -> (-2, -61.5) projected
  line L3 (100.6, -61.5) -> (63.3, -61.5) projected
  line L4 (100.6, -59.5) -> (100.6, 0) projected
  line L5 (100.6, -59.5) -> (100.6, -61.5) projected
  line L6 (100.6, 0) -> (100.6, 2) projected
  line L7 (37.3, -61.5) -> (63.3, -61.5)
  point P0 (61.3, -105.5)
extrude "Extrusion31" add sketch "Sketch31" against normal blind 2
fillet "Fillet1" radius 2 2 edges at (-2, 22, 89.25) (24, 22, 89.25)
fillet "Fillet2" radius 2 3 edges at (-2, 46, -0.125) (24, 46, -0.125) (11, 46, 89.25)
properties part number "InternalSupport"
